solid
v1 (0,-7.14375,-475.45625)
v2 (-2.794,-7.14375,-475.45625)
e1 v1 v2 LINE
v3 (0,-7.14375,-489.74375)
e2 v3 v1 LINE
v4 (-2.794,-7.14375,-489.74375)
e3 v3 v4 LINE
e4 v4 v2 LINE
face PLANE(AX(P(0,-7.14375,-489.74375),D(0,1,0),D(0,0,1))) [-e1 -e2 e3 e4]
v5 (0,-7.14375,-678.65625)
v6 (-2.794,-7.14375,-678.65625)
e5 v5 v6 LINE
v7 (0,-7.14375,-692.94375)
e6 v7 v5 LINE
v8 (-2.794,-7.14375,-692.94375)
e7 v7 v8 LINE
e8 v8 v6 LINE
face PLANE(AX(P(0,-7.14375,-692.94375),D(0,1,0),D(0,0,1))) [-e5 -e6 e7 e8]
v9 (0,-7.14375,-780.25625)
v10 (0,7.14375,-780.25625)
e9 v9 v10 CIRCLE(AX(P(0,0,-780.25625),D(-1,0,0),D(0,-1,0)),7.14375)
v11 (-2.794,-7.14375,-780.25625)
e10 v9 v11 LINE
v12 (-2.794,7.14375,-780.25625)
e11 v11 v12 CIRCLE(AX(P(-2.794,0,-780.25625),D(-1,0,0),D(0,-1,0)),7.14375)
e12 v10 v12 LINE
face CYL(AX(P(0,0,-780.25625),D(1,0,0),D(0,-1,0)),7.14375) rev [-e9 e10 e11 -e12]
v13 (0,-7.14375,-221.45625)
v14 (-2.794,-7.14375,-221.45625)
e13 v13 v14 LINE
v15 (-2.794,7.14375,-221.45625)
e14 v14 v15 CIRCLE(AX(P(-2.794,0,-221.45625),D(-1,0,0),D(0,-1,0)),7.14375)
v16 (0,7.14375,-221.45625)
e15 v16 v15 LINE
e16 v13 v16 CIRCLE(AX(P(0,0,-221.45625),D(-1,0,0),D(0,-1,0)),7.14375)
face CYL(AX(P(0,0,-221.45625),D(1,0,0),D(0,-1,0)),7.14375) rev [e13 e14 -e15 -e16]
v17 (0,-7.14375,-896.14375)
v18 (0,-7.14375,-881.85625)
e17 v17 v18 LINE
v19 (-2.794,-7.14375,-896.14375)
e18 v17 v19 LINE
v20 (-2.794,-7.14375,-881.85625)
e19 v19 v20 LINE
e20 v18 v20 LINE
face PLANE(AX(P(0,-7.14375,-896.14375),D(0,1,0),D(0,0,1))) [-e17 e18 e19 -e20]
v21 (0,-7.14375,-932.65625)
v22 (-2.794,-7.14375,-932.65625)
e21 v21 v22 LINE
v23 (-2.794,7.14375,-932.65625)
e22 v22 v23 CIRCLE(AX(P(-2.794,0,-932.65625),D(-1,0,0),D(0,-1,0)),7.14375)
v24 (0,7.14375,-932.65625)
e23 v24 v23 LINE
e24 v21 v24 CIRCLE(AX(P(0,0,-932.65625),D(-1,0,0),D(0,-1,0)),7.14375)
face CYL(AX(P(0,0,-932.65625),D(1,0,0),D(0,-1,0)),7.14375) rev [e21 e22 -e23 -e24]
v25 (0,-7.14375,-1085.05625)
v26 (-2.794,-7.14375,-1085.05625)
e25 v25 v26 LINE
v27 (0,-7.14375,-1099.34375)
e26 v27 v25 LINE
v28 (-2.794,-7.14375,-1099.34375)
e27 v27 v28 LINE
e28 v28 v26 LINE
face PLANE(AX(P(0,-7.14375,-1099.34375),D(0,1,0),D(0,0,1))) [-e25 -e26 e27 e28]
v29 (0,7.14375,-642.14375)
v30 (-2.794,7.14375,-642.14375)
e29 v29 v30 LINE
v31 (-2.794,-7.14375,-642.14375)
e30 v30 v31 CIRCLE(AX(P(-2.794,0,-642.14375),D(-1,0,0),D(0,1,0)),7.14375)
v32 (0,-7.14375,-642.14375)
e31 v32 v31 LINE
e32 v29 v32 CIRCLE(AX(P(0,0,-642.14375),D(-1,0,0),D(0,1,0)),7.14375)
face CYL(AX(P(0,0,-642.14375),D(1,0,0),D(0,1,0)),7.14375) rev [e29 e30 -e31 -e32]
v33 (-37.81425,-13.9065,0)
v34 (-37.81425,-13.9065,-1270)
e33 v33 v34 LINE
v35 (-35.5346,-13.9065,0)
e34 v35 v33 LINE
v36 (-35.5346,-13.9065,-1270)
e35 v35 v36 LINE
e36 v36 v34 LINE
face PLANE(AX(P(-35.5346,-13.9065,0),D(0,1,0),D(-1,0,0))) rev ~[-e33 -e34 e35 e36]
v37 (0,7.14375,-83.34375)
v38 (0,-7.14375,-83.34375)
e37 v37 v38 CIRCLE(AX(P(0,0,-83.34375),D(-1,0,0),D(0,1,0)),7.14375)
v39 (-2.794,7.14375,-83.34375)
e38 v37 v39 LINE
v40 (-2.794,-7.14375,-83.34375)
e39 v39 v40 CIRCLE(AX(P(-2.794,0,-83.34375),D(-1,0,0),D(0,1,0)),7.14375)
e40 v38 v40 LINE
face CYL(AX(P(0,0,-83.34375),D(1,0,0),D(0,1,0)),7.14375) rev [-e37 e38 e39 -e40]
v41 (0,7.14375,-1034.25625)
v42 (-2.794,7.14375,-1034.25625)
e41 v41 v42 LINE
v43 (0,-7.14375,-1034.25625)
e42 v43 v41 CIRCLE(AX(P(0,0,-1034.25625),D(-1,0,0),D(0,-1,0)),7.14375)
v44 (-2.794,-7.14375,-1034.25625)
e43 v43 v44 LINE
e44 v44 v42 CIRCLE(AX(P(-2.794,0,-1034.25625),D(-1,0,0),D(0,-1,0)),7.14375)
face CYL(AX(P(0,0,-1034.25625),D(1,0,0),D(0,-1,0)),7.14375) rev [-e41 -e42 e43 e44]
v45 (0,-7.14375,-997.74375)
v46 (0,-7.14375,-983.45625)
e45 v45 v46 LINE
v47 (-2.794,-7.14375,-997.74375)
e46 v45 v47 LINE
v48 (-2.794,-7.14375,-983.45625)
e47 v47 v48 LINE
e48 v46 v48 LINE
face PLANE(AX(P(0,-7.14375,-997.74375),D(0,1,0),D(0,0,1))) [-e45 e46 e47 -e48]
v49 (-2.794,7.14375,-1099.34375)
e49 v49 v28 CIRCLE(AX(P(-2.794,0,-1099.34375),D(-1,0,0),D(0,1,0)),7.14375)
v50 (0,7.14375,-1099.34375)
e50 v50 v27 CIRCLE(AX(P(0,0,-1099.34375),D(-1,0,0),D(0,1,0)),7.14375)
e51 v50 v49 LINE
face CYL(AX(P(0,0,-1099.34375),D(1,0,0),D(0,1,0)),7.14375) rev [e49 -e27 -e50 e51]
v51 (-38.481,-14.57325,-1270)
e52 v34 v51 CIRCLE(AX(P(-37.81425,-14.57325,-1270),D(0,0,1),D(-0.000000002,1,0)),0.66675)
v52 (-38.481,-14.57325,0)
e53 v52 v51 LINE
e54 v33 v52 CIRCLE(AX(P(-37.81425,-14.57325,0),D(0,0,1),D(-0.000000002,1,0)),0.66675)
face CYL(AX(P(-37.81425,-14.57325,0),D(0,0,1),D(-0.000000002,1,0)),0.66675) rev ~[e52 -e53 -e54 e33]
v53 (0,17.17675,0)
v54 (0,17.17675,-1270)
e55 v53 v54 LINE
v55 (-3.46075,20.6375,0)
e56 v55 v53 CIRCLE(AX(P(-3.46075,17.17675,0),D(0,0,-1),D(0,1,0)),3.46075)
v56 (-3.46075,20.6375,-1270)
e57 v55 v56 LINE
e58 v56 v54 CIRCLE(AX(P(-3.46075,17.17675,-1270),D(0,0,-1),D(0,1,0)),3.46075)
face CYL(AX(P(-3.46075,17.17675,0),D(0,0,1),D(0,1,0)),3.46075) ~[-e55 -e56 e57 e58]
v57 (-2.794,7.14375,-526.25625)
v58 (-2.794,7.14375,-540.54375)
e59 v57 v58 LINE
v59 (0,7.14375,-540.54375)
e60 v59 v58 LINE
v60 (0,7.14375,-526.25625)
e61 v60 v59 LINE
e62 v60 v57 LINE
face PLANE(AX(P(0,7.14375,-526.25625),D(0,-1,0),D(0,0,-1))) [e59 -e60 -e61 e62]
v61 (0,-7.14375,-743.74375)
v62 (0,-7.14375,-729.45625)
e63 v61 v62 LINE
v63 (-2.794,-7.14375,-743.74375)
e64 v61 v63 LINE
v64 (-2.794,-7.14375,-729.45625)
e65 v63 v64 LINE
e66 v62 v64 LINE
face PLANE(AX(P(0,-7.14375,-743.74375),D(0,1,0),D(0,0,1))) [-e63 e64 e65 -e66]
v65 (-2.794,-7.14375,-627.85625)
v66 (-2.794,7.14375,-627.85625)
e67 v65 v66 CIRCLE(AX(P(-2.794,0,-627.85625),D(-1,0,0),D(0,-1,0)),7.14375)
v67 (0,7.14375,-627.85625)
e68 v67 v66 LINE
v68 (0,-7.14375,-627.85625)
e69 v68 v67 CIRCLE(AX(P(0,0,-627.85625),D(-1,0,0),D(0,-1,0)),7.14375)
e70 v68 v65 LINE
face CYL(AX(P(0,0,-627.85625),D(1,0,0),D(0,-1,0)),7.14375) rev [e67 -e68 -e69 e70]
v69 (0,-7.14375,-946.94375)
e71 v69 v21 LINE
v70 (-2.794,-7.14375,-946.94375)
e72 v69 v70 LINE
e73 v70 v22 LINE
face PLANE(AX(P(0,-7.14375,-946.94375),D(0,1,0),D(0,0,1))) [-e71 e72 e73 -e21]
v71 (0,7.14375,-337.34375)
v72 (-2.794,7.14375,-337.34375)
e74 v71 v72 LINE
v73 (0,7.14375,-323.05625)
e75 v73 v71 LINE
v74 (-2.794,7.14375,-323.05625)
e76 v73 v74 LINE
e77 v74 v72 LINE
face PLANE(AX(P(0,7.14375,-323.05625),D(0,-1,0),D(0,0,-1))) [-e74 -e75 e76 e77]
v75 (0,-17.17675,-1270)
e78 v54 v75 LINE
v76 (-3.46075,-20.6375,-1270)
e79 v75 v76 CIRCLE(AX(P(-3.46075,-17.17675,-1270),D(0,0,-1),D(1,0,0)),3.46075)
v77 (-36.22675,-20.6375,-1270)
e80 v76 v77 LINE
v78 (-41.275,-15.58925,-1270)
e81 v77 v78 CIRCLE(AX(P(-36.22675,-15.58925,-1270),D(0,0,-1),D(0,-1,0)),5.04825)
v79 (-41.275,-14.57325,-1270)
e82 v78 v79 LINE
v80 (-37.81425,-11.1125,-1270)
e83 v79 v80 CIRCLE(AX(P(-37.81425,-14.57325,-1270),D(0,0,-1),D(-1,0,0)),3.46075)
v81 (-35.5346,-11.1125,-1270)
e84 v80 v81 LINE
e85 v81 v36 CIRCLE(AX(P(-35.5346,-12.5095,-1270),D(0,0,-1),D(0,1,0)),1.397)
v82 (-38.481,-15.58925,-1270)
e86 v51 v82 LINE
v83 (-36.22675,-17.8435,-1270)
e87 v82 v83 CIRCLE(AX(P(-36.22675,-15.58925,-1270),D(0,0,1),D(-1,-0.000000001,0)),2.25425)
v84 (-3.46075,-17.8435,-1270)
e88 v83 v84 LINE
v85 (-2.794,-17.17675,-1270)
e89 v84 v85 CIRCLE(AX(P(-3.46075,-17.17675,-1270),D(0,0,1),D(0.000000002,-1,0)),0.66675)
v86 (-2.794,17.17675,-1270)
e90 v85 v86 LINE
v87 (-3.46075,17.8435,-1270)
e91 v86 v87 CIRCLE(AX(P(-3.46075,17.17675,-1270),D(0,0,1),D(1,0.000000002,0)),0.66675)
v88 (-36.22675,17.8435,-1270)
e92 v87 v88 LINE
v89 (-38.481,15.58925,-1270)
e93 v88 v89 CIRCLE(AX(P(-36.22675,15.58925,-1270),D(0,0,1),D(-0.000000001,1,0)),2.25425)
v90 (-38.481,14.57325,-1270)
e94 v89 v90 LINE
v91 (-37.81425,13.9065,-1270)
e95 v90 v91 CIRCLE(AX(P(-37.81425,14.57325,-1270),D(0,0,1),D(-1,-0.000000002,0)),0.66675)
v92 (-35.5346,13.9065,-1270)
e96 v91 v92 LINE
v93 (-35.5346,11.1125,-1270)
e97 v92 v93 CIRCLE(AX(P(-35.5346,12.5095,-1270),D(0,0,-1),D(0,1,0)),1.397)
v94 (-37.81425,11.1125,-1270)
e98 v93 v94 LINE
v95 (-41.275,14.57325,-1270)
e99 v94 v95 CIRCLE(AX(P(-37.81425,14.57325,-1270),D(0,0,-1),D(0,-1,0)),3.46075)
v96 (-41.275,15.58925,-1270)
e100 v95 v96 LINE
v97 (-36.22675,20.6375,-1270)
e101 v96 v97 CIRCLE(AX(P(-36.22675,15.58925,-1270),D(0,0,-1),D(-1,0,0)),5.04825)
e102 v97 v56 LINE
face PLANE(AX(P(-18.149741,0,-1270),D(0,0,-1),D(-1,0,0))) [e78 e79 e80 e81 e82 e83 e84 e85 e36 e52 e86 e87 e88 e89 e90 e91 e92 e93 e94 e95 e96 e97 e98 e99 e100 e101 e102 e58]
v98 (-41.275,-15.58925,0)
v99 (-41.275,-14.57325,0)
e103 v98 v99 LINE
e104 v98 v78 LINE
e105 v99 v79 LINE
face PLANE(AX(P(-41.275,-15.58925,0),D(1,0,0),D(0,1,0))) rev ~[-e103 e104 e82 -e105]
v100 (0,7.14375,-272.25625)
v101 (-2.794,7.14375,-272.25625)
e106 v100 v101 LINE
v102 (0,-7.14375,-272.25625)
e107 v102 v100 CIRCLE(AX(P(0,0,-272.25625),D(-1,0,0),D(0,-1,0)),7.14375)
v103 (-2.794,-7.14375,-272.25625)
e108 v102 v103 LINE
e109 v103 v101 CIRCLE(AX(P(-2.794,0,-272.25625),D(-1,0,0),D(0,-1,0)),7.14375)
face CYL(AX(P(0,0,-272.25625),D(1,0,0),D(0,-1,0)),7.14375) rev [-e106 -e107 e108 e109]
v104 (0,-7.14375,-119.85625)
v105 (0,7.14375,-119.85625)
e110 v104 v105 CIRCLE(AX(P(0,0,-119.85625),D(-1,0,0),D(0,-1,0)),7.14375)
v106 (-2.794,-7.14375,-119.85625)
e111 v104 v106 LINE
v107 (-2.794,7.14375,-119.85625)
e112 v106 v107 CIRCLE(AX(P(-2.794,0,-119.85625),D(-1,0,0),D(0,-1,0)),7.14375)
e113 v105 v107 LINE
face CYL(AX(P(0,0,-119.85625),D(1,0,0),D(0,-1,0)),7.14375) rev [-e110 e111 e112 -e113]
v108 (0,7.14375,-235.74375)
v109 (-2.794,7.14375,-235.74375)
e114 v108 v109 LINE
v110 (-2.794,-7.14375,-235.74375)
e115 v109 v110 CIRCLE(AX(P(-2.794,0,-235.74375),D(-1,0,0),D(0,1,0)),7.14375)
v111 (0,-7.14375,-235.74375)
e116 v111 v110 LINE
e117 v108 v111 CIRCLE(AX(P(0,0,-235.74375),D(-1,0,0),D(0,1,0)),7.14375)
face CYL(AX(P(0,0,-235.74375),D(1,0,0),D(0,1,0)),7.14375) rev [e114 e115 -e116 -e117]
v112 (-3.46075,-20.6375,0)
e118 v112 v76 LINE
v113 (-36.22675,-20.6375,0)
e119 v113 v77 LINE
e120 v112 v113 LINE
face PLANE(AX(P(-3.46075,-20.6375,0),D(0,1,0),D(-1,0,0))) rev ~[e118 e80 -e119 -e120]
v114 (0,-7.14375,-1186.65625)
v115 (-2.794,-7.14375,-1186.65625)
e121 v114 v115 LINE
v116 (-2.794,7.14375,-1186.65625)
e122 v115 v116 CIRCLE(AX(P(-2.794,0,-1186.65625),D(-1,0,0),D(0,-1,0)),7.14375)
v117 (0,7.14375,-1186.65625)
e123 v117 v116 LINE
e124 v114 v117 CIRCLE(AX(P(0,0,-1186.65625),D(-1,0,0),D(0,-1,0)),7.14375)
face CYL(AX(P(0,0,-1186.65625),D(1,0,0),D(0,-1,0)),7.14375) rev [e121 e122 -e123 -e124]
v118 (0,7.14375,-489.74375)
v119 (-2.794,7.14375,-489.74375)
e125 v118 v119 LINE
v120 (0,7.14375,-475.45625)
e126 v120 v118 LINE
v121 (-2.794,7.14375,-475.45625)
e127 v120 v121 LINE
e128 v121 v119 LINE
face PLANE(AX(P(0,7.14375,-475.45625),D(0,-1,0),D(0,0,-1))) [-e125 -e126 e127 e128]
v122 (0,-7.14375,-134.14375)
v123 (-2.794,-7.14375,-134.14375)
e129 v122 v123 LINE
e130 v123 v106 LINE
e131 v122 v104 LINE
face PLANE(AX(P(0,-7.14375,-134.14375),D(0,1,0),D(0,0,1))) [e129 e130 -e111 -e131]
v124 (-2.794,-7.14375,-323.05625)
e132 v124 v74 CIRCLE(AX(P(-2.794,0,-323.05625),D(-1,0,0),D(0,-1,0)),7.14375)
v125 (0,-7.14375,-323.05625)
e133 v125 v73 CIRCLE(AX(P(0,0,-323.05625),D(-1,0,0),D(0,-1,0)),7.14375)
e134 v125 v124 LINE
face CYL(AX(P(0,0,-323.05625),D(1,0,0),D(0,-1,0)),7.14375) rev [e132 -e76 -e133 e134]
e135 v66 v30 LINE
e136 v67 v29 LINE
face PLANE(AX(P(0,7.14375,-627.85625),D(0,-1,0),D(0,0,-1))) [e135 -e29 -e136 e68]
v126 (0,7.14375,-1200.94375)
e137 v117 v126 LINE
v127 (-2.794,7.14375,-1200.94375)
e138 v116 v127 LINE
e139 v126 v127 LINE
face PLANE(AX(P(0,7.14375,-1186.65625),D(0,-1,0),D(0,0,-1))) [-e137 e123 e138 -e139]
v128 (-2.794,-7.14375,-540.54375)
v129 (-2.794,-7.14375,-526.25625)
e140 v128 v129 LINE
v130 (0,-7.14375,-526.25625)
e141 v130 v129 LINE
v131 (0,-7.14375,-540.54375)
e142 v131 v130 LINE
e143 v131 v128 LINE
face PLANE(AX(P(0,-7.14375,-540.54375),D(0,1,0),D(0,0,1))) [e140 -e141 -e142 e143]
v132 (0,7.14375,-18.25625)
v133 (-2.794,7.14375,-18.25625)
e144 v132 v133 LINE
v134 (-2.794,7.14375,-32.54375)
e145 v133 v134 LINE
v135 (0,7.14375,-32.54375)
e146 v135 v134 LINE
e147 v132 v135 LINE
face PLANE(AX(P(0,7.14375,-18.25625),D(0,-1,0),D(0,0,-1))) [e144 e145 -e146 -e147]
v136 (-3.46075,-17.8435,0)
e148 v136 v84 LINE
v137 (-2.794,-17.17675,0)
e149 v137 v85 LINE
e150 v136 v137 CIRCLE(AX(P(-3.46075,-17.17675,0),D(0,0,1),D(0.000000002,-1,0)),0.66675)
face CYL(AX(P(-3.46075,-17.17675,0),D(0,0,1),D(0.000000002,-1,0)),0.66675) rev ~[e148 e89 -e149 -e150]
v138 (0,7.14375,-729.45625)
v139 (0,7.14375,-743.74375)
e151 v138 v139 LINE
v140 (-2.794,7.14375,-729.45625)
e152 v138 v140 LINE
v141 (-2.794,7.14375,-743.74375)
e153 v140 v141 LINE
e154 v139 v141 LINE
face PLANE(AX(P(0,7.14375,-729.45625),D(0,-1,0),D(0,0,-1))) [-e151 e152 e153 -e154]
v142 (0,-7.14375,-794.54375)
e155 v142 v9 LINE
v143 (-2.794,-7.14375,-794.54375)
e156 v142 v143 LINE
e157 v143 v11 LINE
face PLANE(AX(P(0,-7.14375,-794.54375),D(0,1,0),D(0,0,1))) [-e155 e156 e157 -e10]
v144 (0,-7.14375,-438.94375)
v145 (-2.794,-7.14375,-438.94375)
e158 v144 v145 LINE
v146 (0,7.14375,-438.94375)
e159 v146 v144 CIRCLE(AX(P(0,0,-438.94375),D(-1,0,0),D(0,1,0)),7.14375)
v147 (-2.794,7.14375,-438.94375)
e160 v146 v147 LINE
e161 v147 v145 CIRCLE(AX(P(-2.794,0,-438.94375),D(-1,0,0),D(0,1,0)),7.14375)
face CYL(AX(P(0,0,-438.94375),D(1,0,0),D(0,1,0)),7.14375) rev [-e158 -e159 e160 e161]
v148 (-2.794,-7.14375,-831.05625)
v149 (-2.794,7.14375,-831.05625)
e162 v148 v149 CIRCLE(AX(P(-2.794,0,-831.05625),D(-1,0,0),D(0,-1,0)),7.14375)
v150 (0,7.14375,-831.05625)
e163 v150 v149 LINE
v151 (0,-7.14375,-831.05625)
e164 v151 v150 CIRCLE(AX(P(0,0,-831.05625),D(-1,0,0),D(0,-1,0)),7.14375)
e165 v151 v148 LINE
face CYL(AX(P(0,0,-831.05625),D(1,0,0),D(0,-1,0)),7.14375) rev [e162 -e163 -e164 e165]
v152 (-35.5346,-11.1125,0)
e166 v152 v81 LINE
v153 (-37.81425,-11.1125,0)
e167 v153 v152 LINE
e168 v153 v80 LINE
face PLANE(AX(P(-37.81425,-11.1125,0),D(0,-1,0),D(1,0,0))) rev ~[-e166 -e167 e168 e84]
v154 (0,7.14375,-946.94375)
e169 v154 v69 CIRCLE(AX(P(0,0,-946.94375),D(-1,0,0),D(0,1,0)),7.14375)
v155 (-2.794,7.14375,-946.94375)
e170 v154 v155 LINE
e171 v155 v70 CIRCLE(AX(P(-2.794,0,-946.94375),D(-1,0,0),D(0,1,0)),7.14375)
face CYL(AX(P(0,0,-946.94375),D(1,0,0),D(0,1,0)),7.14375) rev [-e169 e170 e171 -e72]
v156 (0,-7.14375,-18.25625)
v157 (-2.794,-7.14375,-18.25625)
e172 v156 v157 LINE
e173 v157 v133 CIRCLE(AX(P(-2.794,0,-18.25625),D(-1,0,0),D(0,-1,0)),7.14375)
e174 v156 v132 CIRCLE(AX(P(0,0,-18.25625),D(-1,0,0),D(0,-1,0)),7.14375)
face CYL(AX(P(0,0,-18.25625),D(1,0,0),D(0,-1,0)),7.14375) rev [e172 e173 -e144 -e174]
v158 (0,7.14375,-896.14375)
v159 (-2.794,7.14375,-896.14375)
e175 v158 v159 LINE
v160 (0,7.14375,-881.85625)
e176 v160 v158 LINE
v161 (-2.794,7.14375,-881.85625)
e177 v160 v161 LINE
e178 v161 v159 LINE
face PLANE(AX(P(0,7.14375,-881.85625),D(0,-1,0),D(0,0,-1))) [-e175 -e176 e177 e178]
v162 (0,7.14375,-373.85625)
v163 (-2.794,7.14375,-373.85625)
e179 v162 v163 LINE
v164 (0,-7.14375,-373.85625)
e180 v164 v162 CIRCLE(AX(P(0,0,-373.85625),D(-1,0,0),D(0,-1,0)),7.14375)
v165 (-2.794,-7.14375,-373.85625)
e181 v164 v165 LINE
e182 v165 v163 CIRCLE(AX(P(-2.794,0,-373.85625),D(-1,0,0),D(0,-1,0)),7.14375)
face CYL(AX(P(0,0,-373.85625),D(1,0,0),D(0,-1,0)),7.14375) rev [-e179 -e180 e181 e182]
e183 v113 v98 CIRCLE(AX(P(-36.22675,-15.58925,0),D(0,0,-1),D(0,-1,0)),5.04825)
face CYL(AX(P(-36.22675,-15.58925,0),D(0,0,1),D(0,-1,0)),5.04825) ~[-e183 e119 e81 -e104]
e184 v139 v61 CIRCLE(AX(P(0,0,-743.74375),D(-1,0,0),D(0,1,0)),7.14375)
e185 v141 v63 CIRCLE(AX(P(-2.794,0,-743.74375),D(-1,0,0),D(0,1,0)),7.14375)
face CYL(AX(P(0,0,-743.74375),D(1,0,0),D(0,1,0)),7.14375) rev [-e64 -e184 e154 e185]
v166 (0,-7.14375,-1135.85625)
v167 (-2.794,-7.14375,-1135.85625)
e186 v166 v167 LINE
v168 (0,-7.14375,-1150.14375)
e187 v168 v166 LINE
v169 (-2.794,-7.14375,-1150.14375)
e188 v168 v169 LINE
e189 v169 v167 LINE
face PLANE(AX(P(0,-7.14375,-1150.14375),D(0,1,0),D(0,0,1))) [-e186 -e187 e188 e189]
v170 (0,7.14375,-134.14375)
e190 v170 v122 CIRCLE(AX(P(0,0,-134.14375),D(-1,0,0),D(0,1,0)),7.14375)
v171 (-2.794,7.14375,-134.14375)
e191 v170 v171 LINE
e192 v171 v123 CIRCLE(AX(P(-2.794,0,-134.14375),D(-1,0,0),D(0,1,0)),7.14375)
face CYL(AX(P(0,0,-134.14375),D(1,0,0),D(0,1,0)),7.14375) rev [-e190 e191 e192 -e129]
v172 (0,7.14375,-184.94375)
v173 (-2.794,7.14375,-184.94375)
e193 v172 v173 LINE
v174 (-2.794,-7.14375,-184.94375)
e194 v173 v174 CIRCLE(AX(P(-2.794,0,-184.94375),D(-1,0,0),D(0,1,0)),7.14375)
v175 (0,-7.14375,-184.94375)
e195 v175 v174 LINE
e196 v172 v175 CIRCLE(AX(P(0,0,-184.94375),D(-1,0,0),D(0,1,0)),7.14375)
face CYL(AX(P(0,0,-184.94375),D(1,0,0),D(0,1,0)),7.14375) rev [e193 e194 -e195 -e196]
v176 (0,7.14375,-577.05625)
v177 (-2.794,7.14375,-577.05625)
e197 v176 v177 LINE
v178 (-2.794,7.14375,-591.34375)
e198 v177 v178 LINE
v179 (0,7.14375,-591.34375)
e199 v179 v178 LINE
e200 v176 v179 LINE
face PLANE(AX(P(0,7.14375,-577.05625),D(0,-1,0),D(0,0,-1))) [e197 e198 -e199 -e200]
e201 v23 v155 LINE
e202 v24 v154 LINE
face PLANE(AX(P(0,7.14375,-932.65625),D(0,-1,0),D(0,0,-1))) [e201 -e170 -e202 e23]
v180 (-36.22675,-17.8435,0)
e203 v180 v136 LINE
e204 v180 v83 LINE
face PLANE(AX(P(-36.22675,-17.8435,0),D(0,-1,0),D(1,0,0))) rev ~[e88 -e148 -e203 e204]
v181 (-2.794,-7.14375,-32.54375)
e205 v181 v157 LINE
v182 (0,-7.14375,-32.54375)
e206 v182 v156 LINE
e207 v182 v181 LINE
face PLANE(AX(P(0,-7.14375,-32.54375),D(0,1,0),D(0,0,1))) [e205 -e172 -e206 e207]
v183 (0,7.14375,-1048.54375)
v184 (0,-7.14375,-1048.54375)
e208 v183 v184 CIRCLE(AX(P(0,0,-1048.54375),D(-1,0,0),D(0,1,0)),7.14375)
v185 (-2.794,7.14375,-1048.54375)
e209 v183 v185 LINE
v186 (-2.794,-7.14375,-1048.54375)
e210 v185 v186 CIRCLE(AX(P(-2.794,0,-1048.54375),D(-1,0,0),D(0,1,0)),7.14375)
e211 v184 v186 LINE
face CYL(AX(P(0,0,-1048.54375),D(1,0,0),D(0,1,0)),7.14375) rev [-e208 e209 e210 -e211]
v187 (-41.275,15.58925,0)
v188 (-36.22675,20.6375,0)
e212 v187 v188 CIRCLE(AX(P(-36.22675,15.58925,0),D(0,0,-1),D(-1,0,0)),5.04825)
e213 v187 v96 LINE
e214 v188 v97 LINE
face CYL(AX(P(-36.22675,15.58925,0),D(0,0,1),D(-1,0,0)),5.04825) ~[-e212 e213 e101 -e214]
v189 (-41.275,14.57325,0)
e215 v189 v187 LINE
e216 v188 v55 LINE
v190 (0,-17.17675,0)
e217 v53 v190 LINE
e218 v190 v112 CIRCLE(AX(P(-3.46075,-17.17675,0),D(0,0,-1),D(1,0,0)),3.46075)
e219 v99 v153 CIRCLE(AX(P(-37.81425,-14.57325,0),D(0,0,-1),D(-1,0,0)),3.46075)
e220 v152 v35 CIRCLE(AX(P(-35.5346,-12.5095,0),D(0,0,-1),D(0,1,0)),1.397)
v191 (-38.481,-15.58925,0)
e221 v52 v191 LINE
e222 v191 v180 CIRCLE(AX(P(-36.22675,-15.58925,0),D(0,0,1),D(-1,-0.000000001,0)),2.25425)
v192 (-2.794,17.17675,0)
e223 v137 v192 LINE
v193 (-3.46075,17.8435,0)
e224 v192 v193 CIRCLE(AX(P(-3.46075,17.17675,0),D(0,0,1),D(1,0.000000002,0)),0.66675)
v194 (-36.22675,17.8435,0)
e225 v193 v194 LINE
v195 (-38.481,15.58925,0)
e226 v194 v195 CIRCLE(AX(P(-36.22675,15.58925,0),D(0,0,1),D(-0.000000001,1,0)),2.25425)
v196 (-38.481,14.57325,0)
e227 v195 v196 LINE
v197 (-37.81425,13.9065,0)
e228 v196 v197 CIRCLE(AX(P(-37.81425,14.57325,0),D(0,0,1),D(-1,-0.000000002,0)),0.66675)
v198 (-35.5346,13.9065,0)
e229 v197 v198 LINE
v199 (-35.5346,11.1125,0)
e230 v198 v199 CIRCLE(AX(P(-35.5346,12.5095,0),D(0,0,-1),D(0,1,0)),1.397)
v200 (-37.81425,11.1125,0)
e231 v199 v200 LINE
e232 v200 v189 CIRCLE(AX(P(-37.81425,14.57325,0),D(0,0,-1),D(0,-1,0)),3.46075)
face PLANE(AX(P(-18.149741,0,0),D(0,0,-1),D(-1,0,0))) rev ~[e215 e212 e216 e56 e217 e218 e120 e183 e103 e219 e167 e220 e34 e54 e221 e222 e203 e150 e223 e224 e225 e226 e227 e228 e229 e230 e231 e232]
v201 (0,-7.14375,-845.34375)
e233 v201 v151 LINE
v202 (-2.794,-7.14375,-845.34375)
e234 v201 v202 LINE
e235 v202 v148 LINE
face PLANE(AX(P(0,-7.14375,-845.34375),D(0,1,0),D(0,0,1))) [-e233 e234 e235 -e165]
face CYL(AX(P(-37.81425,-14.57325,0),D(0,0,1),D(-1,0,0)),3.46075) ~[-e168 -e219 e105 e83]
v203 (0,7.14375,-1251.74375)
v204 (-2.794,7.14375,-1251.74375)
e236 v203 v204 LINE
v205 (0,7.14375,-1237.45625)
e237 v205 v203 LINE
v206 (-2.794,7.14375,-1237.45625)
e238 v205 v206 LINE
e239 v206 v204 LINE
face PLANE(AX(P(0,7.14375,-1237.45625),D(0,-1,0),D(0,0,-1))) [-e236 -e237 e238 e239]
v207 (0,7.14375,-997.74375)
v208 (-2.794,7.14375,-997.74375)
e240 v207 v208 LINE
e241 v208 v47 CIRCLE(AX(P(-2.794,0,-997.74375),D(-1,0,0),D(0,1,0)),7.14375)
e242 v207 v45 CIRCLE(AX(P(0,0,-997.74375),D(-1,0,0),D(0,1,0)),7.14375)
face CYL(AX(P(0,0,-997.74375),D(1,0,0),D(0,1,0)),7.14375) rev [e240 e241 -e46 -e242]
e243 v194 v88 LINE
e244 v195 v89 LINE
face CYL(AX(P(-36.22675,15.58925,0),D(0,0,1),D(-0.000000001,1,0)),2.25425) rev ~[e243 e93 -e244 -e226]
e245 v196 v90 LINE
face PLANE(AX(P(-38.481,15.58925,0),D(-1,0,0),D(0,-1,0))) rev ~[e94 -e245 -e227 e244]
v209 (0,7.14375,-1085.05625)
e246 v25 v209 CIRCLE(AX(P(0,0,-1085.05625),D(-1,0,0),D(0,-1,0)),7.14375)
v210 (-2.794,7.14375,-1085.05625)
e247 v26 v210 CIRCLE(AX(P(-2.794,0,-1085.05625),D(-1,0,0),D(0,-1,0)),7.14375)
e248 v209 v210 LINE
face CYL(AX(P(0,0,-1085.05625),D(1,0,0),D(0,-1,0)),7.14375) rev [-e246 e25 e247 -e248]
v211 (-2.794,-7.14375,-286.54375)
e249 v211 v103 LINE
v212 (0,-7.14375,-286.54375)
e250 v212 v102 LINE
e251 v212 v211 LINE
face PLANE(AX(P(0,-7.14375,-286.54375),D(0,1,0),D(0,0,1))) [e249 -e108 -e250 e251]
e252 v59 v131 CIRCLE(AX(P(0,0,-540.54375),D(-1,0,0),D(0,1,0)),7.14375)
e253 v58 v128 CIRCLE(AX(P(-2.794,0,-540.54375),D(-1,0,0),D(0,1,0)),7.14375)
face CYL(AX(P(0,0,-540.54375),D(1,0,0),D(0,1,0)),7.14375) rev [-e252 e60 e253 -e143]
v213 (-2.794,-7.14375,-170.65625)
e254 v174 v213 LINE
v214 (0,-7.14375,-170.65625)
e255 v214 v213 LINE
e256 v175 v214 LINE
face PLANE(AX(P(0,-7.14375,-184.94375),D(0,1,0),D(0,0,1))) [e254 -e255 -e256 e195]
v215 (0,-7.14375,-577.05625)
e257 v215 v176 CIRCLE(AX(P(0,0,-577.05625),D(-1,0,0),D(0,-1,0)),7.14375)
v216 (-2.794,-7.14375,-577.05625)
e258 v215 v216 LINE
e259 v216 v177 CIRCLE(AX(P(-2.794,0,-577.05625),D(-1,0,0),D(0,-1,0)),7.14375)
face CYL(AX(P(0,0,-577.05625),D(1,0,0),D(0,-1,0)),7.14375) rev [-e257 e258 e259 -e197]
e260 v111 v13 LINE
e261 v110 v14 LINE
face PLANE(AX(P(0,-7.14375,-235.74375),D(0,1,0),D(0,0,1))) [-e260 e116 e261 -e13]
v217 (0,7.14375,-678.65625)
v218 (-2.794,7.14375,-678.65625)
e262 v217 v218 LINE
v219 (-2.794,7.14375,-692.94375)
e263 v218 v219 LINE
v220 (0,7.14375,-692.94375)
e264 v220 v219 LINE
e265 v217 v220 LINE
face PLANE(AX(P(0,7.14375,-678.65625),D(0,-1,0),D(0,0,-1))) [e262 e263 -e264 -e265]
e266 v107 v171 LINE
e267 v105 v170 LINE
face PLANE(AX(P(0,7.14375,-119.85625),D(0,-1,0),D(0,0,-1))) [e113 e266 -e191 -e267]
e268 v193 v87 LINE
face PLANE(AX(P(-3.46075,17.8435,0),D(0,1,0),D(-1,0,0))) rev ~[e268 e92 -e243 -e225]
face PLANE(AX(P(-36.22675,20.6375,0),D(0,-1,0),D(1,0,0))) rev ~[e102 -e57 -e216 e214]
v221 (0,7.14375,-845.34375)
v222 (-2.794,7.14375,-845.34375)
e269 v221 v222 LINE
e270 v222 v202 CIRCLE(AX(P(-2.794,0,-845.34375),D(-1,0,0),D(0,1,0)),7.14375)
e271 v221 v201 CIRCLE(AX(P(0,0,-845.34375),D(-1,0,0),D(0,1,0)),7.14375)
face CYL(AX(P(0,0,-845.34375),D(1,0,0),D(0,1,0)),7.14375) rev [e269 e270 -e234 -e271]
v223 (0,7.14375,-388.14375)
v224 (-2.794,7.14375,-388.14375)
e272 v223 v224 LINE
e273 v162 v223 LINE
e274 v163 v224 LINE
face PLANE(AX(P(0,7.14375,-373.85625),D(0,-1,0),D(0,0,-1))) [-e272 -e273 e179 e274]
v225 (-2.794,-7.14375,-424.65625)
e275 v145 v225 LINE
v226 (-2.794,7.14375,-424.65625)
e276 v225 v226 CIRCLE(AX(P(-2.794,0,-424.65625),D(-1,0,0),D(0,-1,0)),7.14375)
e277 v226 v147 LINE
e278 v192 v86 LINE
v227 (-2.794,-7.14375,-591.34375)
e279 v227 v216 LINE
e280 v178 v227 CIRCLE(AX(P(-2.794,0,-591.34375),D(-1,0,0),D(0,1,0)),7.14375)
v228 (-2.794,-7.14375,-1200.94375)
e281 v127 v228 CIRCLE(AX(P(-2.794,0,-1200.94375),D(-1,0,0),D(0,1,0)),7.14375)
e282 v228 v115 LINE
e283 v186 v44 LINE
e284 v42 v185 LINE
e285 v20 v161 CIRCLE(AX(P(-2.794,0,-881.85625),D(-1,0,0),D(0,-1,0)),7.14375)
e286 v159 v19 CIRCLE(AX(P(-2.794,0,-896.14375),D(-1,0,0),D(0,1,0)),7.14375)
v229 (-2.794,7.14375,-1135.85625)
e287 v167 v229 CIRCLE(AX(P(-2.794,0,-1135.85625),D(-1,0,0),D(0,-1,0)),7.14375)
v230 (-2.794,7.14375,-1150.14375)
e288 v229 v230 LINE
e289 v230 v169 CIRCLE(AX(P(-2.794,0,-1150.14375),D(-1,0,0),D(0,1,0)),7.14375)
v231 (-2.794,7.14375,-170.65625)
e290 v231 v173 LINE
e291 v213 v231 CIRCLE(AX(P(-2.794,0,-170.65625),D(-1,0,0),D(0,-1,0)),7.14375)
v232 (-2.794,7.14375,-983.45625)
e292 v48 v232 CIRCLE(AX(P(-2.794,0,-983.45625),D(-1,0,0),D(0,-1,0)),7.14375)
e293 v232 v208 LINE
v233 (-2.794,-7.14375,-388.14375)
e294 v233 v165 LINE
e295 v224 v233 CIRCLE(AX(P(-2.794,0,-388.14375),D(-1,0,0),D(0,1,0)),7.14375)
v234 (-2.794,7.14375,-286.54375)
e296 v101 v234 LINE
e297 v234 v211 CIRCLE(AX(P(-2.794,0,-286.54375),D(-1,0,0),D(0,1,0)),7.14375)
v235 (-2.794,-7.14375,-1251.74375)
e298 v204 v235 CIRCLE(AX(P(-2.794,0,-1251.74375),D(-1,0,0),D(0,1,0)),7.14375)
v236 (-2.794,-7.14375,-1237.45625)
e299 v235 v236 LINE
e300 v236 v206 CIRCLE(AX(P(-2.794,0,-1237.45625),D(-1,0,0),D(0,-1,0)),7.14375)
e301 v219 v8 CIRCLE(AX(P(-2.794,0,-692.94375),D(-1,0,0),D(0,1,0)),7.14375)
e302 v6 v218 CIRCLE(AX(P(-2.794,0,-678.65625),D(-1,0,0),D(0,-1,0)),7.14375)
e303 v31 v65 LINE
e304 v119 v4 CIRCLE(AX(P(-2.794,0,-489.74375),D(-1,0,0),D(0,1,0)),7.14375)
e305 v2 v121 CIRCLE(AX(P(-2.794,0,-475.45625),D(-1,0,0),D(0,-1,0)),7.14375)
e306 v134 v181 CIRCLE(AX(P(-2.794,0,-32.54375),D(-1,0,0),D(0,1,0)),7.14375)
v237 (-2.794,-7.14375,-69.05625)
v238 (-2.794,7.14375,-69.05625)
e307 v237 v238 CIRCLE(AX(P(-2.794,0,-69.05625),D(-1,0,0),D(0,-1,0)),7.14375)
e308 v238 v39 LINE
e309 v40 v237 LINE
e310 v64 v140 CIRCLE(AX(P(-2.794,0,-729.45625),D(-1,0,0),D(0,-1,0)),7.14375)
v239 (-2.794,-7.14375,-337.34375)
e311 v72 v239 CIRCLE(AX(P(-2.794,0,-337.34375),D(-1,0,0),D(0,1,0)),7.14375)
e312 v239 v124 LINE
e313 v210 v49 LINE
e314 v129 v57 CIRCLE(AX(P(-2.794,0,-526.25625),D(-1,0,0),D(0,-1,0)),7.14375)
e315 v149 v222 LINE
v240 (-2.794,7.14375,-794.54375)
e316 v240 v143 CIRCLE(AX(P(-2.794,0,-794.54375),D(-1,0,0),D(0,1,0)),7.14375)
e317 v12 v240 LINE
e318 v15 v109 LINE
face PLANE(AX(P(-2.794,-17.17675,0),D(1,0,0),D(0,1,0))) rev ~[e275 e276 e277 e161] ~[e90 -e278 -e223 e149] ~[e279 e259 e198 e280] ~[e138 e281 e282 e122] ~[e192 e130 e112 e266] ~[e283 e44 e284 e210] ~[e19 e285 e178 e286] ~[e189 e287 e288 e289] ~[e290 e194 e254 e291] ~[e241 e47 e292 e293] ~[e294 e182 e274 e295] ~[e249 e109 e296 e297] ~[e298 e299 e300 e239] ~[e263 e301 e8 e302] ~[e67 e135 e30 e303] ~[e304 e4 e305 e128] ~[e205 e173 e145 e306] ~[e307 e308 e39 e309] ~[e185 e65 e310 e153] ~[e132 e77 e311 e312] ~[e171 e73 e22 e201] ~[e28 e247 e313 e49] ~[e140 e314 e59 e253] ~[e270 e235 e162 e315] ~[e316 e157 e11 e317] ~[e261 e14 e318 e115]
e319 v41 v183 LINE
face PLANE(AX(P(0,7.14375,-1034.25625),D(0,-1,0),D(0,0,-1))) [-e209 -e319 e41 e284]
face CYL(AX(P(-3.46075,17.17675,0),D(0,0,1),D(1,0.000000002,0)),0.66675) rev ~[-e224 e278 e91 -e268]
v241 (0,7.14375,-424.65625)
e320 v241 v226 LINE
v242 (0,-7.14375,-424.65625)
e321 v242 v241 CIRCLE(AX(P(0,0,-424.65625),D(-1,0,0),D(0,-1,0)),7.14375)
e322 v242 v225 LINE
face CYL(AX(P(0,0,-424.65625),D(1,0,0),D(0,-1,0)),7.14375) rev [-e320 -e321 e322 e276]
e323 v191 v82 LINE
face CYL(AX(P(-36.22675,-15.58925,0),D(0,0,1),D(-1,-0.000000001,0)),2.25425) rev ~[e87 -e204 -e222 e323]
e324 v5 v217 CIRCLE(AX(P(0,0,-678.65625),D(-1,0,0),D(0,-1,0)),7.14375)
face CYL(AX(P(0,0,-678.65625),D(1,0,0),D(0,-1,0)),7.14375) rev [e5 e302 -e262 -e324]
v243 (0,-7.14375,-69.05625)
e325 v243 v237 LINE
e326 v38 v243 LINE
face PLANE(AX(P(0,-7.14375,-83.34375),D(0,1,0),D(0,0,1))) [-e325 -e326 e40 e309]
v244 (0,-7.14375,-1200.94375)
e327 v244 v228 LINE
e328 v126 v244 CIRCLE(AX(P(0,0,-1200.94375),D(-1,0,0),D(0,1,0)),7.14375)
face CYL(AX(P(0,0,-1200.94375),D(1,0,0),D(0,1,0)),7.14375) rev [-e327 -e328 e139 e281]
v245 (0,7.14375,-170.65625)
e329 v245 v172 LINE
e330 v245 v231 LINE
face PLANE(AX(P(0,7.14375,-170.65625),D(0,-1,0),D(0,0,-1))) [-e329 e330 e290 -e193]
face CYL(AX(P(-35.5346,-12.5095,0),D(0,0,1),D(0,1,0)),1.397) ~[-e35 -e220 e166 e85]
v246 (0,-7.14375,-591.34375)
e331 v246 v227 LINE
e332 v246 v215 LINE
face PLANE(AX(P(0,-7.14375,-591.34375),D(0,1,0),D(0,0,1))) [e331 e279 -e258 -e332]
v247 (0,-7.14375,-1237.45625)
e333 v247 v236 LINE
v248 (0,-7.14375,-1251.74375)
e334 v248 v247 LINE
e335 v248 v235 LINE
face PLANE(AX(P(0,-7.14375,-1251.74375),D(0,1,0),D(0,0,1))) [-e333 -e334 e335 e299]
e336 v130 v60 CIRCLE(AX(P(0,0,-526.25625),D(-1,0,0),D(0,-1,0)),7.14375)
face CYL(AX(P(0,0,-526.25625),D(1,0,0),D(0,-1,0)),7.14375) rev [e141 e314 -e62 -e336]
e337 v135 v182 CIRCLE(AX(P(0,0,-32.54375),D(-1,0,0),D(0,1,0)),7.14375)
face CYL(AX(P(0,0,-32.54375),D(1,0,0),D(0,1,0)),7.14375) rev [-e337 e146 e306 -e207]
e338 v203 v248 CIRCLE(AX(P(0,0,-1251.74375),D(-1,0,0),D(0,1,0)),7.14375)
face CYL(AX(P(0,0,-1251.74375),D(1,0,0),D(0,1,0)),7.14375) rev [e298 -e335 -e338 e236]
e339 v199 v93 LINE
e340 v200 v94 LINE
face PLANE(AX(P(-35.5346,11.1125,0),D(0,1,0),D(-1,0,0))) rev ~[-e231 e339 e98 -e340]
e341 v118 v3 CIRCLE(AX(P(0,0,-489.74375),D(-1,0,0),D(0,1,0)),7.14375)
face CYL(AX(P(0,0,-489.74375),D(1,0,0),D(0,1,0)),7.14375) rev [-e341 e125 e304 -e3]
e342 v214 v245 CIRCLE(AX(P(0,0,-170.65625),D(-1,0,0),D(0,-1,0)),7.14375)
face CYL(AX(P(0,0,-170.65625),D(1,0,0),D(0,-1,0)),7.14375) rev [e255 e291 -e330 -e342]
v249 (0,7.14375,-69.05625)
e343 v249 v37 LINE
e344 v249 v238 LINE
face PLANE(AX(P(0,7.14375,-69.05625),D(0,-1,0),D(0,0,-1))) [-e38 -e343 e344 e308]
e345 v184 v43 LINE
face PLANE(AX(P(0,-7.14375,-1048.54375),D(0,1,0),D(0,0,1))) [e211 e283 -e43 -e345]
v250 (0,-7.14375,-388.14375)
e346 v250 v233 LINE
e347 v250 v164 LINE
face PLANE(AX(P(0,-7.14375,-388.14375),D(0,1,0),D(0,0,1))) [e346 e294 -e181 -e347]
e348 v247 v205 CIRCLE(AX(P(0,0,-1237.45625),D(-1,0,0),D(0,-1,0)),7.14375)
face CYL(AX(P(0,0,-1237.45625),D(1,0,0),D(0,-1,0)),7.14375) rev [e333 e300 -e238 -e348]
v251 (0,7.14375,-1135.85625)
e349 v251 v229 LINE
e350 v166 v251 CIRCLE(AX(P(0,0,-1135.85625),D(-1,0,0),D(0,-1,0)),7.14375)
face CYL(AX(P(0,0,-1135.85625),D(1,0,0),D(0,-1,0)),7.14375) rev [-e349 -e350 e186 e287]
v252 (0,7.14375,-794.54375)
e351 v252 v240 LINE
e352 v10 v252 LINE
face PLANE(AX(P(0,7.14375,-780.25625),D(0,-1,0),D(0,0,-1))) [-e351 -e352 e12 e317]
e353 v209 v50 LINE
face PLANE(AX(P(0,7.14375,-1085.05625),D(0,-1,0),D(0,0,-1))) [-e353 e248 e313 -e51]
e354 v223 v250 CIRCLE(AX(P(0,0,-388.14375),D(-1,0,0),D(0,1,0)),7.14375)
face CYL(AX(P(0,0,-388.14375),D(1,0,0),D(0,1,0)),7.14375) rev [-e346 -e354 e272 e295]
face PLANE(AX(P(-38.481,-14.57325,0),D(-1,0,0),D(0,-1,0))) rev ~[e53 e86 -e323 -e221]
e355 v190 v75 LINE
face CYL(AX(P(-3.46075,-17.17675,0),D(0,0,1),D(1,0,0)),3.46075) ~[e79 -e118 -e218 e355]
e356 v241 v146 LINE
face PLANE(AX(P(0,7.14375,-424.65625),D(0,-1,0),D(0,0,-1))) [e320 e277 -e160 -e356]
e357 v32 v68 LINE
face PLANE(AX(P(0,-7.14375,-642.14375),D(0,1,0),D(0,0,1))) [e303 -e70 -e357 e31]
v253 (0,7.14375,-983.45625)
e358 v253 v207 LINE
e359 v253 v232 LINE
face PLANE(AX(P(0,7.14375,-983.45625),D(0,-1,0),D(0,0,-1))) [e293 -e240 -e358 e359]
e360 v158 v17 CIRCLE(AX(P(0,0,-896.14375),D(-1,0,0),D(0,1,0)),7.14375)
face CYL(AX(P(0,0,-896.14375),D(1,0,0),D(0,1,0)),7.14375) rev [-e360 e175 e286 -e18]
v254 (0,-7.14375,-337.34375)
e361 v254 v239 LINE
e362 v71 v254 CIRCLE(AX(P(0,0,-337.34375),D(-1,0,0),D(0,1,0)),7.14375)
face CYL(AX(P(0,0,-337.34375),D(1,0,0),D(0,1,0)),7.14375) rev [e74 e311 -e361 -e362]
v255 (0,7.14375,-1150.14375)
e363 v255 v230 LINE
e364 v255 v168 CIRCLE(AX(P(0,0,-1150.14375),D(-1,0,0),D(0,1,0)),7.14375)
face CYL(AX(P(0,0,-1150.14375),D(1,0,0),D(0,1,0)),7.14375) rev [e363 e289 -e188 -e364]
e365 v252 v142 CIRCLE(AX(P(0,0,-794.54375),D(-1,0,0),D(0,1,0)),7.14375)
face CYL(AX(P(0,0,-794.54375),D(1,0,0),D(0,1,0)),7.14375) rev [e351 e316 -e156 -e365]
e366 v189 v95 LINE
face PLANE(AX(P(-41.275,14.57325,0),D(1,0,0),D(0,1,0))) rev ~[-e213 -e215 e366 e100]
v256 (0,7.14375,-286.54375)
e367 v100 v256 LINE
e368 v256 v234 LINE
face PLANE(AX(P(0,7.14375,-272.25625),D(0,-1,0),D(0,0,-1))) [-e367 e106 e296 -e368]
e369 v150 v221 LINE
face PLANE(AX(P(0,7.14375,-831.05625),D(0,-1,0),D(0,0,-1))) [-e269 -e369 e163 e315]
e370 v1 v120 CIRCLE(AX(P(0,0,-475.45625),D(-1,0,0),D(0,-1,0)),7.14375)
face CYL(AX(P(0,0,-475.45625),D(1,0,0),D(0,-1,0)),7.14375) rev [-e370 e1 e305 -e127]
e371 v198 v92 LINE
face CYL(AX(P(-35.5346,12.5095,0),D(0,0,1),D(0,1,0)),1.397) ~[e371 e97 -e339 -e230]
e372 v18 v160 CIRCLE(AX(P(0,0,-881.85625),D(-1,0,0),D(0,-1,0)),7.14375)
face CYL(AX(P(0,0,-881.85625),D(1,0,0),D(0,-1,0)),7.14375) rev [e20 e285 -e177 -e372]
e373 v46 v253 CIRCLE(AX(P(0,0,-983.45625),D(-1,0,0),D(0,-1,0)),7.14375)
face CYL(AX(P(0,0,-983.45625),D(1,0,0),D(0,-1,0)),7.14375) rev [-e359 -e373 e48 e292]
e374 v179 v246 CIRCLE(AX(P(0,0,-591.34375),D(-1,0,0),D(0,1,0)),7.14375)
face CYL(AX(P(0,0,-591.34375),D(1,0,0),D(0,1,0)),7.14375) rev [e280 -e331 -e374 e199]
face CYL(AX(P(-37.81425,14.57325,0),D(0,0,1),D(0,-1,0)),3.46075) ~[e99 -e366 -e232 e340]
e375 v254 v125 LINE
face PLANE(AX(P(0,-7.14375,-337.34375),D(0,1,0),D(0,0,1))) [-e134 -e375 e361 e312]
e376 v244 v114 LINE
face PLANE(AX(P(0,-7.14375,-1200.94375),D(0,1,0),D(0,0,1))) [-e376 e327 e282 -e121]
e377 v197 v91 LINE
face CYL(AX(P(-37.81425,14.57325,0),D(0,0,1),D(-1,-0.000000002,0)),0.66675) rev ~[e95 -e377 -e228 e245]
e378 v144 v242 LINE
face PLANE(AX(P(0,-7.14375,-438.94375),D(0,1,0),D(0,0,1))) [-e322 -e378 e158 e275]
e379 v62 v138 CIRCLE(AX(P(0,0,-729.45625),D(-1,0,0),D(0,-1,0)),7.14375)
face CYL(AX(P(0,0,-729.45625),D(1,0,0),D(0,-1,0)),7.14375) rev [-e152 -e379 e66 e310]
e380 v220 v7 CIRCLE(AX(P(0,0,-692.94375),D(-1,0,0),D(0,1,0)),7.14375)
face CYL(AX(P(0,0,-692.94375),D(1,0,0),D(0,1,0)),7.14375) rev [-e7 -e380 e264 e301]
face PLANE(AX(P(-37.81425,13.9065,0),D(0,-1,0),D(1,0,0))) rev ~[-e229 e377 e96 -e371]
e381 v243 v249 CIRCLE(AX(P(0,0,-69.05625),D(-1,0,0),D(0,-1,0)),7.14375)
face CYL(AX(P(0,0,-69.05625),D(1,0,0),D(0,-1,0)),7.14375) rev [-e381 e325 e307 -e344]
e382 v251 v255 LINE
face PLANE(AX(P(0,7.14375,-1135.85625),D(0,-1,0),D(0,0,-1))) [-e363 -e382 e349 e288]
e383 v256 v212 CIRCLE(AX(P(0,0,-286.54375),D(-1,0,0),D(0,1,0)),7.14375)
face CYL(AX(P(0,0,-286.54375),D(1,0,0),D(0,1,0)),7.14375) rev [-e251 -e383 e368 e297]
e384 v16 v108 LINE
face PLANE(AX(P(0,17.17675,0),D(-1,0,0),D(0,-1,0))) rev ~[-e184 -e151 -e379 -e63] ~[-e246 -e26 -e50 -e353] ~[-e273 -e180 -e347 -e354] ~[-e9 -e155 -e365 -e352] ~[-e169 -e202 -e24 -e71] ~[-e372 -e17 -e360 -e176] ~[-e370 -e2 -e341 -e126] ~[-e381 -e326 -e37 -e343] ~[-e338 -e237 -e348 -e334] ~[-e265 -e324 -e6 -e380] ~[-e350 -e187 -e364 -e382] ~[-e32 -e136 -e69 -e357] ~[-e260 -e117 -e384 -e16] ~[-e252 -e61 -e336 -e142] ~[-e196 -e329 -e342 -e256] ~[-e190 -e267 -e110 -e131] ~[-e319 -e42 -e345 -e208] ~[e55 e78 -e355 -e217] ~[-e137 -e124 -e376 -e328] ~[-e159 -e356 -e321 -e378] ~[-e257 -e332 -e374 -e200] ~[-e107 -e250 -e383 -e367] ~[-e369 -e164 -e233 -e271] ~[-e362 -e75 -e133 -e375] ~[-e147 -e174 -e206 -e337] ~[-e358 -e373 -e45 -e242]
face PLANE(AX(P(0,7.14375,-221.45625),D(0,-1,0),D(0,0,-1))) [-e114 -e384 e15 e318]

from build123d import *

# Parameters (mm, degrees)
BOSS_EXTRUDE1_DEPTH = 1270
CUT_EXTRUDE1_DEPTH  = 2.794
LPATTERN1_COUNT     = 25
LPATTERN1_PITCH     = 50.8


with BuildPart() as part:
    # Sketch1 → Boss-Extrude1 (new body)
    with BuildSketch(Plane.XY):
        with BuildLine():
            Line((-36.22675, 20.6375), (-3.46075, 20.6375))
            ThreePointArc((-3.46075, 20.6375), (-1.013630207, 19.623869793), (0, 17.17675))
            Line((0, 17.17675), (0, -17.17675))
            ThreePointArc((0, -17.17675), (-1.013630207, -19.623869793), (-3.46075, -20.6375))
            Line((-3.46075, -20.6375), (-36.22675, -20.6375))
            ThreePointArc((-36.22675, -20.6375), (-39.796401808, -19.158901808), (-41.275, -15.58925))
            Line((-41.275, -15.58925), (-41.275, -14.57325))
            ThreePointArc((-41.275, -14.57325), (-40.261369793, -12.126130207), (-37.81425, -11.1125))
            Line((-37.81425, -11.1125), (-35.5346, -11.1125))
            ThreePointArc((-35.5346, -11.1125), (-34.1376, -12.5095), (-35.5346, -13.9065))
            Line((-35.5346, -13.9065), (-37.81425, -13.9065))
            ThreePointArc((-37.81425, -13.9065), (-38.285713446, -14.101786554), (-38.481, -14.57325))
            Line((-38.481, -14.57325), (-38.481, -15.58925))
            ThreePointArc((-38.481, -15.58925), (-37.820745461, -17.183245461), (-36.22675, -17.8435))
            Line((-36.22675, -17.8435), (-3.46075, -17.8435))
            ThreePointArc((-3.46075, -17.8435), (-2.989286554, -17.648213446), (-2.794, -17.17675))
            Line((-2.794, -17.17675), (-2.794, 17.17675))
            ThreePointArc((-2.794, 17.17675), (-2.989286554, 17.648213446), (-3.46075, 17.8435))
            Line((-3.46075, 17.8435), (-36.22675, 17.8435))
            ThreePointArc((-36.22675, 17.8435), (-37.820745461, 17.183245461), (-38.481, 15.58925))
            Line((-38.481, 15.58925), (-38.481, 14.57325))
            ThreePointArc((-38.481, 14.57325), (-38.285713446, 14.101786554), (-37.81425, 13.9065))
            Line((-37.81425, 13.9065), (-35.5346, 13.9065))
            ThreePointArc((-35.5346, 13.9065), (-34.1376, 12.5095), (-35.5346, 11.1125))
            Line((-35.5346, 11.1125), (-37.81425, 11.1125))
            ThreePointArc((-37.81425, 11.1125), (-40.261369793, 12.126130207), (-41.275, 14.57325))
            Line((-41.275, 14.57325), (-41.275, 15.58925))
            ThreePointArc((-41.275, 15.58925), (-39.796401808, 19.158901808), (-36.22675, 20.6375))
        make_face()
    extrude(amount=-BOSS_EXTRUDE1_DEPTH)

    # Sketch2 → Cut-Extrude1 (cut)
    with BuildSketch(Plane(origin=(0, 0, 0), x_dir=(0, 0, -1), z_dir=(1, 0, 0))):
        with BuildLine():
            Line((18.25625, 7.14375), (32.54375, 7.14375))
            ThreePointArc((32.54375, 7.14375), (39.6875, 0), (32.54375, -7.14375))
            Line((32.54375, -7.14375), (18.25625, -7.14375))
            ThreePointArc((18.25625, -7.14375), (11.1125, 0), (18.25625, 7.14375))
        make_face()
    cut_extrude1 = extrude(amount=-CUT_EXTRUDE1_DEPTH, mode=Mode.SUBTRACT)

    # LPattern1: Cut-Extrude1 ×25
    with Locations(*[(0, 0, -i * LPATTERN1_PITCH) for i in range(1, LPATTERN1_COUNT)]):
        add(cut_extrude1, mode=Mode.SUBTRACT)


solid = part.part
